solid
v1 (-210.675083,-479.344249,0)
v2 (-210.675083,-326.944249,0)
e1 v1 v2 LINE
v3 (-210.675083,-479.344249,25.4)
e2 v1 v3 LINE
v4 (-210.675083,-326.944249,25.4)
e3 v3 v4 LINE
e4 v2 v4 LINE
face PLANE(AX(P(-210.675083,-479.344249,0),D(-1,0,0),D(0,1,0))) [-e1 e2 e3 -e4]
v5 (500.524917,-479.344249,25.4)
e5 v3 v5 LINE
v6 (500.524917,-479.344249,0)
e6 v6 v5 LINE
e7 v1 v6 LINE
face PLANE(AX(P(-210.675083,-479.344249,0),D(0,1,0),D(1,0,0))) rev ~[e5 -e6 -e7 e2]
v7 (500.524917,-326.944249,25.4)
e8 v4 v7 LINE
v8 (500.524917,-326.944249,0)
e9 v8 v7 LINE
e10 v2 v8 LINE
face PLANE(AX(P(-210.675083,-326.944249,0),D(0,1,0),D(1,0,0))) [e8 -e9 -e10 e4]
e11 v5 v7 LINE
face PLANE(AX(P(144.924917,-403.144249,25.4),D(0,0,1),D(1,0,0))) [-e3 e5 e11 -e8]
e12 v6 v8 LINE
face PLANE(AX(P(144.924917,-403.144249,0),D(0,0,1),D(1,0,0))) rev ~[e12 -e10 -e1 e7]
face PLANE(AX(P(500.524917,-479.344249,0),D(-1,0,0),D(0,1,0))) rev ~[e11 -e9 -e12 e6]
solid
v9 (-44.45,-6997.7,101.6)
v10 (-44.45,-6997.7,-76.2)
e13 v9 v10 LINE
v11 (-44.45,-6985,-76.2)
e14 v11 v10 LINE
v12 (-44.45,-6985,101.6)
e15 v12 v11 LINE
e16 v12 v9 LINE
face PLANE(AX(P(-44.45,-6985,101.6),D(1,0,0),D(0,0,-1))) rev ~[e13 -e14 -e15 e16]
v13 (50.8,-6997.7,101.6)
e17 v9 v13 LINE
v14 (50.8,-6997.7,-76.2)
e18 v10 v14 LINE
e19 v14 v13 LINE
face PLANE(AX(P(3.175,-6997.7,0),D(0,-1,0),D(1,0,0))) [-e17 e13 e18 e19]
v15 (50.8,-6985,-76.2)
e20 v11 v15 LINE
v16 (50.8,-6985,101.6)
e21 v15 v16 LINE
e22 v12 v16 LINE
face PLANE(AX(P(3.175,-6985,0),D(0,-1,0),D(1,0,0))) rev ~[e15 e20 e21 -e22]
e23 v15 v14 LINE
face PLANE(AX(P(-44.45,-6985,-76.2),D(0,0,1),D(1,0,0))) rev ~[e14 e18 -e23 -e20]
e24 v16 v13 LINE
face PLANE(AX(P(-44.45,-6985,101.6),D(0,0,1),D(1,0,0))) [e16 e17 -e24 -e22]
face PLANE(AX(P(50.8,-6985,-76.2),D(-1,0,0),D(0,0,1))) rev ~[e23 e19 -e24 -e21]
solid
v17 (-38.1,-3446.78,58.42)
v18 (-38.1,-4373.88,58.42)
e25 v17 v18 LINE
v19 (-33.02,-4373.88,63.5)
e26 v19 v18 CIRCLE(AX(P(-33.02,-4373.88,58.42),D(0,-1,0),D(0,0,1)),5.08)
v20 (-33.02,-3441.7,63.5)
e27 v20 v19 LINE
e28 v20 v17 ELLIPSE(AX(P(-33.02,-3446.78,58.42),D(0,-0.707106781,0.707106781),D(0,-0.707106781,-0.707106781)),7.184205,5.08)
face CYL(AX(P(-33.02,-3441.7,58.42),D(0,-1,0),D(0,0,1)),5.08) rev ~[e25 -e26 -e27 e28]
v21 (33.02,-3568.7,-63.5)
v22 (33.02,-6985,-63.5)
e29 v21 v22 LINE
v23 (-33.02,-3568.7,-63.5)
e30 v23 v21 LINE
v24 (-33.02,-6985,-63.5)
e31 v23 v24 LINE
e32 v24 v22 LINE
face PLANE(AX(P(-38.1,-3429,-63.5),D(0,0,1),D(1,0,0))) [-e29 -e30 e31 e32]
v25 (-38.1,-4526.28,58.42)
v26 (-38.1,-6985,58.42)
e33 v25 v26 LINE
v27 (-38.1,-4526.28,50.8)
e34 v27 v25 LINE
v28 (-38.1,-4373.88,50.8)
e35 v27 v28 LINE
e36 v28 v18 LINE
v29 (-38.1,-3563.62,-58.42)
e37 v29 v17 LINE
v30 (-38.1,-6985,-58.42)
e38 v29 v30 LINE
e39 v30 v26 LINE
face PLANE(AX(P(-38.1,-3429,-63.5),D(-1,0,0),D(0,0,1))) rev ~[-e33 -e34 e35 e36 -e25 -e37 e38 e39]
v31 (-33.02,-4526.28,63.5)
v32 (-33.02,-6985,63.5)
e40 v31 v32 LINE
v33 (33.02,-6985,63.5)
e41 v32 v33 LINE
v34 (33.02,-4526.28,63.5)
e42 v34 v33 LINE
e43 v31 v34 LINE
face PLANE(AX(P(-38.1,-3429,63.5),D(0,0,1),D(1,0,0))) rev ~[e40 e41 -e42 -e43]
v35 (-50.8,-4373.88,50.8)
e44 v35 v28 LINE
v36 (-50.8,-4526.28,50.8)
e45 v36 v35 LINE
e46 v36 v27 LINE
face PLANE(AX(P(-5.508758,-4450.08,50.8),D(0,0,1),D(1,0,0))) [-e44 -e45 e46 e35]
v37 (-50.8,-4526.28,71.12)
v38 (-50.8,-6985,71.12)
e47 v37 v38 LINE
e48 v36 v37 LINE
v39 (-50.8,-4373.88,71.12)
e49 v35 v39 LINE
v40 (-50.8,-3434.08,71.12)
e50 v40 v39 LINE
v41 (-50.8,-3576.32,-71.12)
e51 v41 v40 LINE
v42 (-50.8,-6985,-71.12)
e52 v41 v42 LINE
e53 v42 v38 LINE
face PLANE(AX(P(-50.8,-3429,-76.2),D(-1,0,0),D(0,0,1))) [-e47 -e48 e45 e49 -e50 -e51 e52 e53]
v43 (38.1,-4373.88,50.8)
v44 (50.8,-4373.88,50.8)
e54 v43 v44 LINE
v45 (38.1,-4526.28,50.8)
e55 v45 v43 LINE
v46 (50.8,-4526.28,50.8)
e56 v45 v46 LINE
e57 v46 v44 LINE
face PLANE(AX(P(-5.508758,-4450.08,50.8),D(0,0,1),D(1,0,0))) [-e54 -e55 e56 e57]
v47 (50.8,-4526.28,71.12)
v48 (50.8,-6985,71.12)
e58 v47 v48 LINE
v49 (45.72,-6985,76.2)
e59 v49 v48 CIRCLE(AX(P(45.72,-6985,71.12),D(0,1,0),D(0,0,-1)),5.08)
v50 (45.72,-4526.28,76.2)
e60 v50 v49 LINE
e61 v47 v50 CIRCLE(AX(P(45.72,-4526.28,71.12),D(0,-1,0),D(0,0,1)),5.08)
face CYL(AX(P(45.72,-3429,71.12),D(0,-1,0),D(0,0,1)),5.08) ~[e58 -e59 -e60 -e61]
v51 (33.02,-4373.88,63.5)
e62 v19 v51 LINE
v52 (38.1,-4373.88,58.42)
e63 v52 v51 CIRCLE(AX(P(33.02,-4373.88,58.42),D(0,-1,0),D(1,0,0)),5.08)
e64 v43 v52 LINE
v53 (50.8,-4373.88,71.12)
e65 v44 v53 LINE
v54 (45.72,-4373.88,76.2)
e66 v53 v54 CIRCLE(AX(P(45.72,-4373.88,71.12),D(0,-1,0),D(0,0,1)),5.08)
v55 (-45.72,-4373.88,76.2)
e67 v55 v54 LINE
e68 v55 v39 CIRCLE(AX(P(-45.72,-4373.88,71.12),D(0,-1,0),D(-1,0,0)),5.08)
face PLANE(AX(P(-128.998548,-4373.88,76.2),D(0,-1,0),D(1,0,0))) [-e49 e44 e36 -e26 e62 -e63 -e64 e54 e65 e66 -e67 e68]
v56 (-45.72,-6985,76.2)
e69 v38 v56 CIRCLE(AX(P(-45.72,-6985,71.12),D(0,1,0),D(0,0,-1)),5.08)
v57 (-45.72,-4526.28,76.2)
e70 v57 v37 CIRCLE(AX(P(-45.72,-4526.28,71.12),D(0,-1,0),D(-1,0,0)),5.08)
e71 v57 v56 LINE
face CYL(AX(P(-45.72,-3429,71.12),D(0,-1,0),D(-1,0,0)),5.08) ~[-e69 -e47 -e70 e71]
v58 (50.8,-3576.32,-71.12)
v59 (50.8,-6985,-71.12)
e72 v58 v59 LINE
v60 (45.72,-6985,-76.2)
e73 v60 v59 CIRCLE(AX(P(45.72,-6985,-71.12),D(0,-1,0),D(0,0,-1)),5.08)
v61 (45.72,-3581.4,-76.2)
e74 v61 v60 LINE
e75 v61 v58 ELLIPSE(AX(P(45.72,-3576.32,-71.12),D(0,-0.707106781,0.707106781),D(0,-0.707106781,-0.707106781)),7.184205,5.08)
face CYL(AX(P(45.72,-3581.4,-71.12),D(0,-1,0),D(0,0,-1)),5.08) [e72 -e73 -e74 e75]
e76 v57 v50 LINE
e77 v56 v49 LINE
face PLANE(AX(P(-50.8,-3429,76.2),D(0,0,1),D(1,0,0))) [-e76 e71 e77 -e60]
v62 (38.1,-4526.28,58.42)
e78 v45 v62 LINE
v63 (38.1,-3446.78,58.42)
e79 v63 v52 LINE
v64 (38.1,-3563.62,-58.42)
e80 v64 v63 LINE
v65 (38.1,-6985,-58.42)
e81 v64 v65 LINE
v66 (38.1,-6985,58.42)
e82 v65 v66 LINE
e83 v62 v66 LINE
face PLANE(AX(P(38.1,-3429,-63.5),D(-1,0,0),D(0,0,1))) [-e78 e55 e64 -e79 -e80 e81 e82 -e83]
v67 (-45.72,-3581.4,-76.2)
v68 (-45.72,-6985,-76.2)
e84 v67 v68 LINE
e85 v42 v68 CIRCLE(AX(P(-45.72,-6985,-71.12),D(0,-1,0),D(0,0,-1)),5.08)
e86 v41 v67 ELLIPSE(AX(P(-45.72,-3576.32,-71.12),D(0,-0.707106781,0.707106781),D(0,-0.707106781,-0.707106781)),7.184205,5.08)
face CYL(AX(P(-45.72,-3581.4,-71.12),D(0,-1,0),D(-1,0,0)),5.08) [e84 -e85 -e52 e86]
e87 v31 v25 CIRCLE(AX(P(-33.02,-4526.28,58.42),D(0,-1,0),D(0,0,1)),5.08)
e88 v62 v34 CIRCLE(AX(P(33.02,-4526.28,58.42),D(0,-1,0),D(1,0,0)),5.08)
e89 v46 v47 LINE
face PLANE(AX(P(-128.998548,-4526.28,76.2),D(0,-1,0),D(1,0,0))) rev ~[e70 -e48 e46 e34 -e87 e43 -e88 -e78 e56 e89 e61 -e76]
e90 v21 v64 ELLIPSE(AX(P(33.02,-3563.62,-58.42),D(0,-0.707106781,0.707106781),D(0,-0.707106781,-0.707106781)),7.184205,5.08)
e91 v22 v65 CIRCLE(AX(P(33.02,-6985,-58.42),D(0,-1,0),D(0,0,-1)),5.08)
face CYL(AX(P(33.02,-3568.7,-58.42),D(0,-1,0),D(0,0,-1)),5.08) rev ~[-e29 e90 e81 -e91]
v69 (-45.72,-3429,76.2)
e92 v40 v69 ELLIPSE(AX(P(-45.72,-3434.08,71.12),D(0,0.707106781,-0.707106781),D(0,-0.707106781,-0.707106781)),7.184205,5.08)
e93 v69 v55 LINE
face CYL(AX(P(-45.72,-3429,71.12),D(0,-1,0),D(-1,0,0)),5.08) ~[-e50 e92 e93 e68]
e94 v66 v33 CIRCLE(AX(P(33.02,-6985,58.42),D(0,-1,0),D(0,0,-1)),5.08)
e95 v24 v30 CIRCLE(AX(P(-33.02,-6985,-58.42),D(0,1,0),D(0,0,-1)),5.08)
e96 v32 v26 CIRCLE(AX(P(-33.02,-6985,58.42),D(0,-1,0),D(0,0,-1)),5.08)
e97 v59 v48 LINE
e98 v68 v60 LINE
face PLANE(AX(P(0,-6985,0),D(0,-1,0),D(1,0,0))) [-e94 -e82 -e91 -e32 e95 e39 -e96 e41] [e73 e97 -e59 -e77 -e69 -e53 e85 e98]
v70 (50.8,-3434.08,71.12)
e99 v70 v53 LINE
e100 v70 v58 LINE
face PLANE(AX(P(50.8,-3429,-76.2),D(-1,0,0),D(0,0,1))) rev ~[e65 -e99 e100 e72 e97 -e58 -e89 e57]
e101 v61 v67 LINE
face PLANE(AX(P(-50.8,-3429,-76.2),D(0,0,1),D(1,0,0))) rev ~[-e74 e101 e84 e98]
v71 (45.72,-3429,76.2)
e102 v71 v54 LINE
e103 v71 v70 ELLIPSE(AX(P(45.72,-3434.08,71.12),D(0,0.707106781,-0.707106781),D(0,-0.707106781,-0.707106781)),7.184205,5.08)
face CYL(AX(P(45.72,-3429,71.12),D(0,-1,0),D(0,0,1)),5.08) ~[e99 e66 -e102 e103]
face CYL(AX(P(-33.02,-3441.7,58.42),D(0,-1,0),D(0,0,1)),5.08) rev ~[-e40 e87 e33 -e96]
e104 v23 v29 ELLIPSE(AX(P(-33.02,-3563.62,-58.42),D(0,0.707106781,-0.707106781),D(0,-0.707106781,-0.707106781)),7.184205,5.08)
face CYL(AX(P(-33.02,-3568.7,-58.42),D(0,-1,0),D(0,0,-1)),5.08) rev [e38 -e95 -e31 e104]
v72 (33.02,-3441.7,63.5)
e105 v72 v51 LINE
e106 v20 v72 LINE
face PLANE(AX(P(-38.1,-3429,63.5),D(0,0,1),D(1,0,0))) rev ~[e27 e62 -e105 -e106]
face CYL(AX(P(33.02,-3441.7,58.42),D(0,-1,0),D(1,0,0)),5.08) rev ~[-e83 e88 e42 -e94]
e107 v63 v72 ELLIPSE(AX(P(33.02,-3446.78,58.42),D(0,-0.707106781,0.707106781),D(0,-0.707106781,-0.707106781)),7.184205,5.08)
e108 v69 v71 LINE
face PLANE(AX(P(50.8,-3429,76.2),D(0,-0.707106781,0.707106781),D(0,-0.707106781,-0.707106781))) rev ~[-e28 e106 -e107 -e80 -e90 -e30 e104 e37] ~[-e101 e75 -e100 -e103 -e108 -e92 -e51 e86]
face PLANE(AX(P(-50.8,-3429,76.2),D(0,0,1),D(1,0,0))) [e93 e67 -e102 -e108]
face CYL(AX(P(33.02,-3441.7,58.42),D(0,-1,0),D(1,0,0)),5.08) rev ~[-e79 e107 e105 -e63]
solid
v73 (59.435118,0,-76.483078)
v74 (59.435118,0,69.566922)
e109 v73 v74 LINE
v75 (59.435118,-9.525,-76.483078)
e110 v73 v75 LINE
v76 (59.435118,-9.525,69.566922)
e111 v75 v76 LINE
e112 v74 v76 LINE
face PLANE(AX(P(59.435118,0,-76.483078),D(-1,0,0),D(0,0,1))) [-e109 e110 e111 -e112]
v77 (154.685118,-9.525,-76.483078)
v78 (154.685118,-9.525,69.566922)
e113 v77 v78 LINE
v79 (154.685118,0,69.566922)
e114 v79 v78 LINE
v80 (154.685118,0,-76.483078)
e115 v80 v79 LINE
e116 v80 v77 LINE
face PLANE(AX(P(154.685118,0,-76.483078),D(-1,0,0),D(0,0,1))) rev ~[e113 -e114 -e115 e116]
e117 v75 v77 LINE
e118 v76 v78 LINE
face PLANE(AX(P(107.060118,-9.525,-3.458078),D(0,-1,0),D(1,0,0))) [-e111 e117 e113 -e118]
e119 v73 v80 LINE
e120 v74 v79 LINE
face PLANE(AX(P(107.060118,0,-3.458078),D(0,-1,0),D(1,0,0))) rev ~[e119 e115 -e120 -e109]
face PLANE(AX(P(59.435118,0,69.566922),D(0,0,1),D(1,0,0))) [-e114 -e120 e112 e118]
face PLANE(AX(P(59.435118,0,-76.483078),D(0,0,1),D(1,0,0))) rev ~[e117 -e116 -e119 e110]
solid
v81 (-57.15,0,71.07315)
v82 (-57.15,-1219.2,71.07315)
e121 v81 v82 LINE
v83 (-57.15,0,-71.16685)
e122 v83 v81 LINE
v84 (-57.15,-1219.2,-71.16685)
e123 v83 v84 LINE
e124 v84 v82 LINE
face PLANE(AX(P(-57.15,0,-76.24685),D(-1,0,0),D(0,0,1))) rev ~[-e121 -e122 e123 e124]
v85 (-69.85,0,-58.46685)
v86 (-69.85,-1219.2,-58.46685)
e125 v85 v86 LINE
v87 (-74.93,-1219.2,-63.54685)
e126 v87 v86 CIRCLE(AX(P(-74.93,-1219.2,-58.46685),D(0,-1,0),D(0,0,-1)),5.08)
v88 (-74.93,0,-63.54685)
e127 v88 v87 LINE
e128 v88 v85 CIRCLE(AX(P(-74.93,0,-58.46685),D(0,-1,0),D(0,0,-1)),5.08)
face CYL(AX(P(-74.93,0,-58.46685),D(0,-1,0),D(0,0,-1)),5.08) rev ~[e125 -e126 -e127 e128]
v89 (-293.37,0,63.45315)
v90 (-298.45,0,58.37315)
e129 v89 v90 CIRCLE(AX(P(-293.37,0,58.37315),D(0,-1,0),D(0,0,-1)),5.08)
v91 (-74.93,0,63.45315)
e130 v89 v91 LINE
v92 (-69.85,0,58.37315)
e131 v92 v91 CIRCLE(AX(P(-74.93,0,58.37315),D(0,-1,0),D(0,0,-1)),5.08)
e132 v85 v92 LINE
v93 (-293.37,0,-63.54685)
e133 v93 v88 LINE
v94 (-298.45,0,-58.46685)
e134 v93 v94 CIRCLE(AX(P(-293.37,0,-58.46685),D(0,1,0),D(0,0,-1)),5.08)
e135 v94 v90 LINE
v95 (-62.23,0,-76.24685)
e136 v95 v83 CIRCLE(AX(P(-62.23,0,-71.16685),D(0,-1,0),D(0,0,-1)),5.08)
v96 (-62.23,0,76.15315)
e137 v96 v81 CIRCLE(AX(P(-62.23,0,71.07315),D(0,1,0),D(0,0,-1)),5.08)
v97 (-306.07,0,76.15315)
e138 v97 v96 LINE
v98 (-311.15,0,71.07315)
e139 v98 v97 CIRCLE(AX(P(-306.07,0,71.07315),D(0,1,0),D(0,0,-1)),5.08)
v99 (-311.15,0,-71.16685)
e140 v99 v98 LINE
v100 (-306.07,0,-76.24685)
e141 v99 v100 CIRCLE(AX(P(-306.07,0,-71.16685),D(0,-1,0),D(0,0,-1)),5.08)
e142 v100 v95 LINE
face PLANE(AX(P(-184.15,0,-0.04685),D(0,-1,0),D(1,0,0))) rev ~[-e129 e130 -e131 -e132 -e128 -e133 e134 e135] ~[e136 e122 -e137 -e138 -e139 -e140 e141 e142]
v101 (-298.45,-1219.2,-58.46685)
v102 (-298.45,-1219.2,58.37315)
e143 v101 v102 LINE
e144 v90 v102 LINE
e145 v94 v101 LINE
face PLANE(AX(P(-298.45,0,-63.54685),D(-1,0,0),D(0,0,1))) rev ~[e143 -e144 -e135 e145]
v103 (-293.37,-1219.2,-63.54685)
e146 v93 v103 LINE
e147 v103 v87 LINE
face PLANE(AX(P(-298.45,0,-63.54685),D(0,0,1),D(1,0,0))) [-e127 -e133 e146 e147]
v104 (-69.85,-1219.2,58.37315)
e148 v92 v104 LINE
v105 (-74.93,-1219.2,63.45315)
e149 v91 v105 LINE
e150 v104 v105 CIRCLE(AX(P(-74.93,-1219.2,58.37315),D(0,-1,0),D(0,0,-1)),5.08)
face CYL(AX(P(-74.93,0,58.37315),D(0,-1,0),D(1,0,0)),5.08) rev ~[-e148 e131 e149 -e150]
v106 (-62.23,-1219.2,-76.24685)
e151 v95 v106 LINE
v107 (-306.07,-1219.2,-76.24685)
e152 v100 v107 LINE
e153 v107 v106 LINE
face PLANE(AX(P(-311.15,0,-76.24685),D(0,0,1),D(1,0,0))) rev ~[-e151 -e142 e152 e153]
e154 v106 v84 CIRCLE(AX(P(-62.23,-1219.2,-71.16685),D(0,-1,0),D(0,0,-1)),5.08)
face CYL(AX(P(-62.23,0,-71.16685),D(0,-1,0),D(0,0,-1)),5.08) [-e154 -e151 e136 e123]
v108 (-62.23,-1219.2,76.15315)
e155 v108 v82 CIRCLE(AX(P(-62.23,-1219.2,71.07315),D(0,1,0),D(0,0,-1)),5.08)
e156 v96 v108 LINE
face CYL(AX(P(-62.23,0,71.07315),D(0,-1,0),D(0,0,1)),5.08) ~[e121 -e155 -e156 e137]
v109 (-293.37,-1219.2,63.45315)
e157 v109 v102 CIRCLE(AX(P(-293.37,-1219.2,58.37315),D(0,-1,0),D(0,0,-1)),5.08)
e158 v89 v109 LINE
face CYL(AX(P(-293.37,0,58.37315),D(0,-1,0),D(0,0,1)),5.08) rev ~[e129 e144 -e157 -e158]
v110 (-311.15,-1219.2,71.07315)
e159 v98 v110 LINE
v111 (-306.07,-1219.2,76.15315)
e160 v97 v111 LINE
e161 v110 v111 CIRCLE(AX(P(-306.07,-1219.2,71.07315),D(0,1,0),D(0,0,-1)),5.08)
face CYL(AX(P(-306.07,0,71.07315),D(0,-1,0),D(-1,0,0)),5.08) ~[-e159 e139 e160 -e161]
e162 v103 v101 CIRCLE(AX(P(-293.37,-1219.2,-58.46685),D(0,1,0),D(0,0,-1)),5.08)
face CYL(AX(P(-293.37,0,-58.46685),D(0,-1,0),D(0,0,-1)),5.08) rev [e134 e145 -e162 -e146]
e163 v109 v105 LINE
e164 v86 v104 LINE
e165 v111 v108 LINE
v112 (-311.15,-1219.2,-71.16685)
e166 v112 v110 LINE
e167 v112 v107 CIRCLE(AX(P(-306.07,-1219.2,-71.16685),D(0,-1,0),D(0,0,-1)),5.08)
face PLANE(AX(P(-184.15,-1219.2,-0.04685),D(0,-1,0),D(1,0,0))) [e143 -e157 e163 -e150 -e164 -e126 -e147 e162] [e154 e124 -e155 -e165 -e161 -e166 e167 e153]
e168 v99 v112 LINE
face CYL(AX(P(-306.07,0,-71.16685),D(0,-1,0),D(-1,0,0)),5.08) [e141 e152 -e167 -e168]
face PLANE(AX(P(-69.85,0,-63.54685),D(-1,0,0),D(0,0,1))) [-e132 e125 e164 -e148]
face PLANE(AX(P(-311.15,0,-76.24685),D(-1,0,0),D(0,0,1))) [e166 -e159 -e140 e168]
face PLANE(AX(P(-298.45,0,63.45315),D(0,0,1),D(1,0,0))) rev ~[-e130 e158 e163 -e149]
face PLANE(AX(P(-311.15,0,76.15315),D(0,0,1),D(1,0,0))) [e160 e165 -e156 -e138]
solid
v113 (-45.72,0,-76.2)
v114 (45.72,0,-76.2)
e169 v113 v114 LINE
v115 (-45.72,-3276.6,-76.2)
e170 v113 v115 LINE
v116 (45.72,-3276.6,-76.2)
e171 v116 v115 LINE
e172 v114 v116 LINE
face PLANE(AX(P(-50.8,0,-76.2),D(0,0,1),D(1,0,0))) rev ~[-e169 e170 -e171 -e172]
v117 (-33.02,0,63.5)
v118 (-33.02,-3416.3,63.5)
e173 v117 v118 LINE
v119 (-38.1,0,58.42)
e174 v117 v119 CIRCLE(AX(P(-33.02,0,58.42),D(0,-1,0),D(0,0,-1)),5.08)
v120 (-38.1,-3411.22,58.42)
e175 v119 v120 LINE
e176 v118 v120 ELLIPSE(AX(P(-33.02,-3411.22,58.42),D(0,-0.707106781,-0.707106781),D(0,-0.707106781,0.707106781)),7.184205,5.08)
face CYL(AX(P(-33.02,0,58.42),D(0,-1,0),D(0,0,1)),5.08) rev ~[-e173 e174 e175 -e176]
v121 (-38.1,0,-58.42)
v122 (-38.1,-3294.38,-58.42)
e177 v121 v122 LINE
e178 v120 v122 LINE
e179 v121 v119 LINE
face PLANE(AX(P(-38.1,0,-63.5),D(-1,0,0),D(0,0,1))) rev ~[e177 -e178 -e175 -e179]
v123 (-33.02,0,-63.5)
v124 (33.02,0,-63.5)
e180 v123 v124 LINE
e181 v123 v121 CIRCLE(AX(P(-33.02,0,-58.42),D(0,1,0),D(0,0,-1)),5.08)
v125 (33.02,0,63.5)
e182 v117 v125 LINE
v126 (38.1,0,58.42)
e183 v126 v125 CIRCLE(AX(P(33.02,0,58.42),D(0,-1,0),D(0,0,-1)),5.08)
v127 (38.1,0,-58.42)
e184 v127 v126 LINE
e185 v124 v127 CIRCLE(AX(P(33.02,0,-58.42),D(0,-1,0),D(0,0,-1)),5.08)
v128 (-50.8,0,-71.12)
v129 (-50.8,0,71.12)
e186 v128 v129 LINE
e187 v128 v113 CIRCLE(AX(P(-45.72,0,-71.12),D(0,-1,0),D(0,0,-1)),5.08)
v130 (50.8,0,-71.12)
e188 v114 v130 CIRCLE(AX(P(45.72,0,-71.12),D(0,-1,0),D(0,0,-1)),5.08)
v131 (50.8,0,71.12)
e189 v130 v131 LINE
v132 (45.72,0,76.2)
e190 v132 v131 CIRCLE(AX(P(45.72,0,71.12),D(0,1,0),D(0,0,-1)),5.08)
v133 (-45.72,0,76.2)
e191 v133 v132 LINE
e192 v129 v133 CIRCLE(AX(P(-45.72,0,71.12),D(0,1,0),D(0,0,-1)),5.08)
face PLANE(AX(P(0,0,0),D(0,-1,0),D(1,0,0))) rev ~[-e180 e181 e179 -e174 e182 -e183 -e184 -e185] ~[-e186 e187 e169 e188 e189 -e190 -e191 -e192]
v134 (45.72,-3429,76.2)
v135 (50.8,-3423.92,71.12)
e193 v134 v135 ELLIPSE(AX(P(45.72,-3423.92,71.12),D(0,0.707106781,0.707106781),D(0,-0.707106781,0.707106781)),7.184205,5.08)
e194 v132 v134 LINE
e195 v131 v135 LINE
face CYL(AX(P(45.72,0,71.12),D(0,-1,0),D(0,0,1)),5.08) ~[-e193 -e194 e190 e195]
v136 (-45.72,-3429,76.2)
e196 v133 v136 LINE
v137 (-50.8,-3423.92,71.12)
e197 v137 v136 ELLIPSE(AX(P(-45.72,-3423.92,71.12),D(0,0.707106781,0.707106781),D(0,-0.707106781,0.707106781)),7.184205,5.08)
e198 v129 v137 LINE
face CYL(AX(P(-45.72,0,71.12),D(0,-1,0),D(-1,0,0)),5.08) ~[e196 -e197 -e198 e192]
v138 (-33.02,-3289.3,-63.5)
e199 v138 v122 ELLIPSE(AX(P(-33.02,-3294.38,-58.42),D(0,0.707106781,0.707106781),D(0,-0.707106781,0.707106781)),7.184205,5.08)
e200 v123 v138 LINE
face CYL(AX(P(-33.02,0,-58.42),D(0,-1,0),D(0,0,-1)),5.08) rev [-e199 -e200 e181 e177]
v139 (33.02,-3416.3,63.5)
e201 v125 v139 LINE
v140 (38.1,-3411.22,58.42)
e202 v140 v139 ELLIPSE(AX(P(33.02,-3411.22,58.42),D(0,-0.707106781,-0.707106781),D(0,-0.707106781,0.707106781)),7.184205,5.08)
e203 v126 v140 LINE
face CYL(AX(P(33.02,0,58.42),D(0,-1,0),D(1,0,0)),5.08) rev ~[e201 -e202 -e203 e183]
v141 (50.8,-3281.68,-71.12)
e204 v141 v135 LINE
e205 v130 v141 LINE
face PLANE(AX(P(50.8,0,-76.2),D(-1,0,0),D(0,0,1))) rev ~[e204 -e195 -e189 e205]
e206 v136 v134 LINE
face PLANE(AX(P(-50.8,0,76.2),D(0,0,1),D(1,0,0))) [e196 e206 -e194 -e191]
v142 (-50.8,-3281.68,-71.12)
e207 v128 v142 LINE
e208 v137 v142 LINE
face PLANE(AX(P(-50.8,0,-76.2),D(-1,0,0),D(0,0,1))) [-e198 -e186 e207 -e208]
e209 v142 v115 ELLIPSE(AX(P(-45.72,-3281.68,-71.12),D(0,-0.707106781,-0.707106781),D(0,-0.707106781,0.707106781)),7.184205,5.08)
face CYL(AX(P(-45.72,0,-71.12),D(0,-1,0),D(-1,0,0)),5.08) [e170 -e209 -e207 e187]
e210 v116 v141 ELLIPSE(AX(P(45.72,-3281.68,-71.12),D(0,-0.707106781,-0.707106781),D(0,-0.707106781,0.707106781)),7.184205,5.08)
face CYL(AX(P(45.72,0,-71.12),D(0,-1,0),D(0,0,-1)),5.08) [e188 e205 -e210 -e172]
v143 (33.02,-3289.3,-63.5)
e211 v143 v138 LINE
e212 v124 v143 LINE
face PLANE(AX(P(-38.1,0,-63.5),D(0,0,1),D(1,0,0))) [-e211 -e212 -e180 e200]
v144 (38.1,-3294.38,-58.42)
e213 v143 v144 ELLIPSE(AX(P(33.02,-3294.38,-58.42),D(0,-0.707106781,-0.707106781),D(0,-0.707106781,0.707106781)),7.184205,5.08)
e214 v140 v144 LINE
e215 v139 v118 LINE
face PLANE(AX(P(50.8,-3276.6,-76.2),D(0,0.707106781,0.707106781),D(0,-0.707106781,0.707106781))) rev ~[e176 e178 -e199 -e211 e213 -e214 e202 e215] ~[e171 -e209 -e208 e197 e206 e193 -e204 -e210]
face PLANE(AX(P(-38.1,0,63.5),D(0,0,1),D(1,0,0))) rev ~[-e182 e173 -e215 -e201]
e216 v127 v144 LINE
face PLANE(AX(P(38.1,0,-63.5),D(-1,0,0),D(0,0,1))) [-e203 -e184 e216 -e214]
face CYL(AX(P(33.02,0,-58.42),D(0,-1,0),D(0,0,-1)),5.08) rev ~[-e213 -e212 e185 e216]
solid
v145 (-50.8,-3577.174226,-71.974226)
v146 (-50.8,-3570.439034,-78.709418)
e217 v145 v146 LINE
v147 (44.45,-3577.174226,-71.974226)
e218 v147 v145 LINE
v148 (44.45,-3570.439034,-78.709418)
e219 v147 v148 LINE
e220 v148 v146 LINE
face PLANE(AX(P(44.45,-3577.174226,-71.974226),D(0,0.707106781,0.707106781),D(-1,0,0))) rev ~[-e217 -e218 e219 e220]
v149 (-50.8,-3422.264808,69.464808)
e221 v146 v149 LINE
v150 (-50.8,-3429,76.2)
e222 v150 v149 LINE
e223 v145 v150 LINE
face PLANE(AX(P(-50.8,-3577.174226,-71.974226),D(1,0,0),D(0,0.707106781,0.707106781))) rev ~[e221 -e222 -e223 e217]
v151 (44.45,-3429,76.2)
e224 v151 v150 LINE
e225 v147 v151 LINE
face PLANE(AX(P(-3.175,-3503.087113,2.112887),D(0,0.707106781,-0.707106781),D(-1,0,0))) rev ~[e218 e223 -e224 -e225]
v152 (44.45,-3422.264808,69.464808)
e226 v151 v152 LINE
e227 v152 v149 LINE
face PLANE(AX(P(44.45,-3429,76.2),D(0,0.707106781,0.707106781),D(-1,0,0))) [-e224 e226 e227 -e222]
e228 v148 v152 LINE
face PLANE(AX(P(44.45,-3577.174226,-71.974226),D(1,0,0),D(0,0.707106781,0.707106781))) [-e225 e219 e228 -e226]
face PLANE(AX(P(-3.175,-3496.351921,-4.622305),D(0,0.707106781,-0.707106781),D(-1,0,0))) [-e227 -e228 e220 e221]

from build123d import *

# Parameters (mm, degrees)
F1_W      = 254
F1_H      = 152.4
F1_W_2    = 228.6
F1_H_2    = 127
F3_DEPTH  = 1219.2
F0_W      = 101.6
F0_H      = 152.4
F0_W_2    = 76.2
F0_H_2    = 127
F4_DEPTH  = 3429
F2_W      = 95.25
F2_H      = 146.05
F5_DEPTH  = 9.525
F6_DEPTH  = 3556
F9_DEPTH  = 361.951
F10_DEPTH = 361.951
F11_W     = 95.25
F11_H     = 209.55
F11_W_2   = 76.2
F11_H_2   = 179.6051224214
F12_DEPTH = 9.525
F13_W     = 95.25
F13_H     = 152.4
F13_W_2   = 76.2
F13_H_2   = 127
F13_H_3   = 25.4
F14_DEPTH = 12.7
F15_R     = 5.08
F15_2_R   = 5.08
F15_3_R   = 5.08
F16_W     = 711.2
F16_H     = 152.4
F17_DEPTH = 25.4
F18_W     = 246.9795793295
F18_H     = 152.4
F19_DEPTH = 25.4


with BuildPart() as f3:
    # F1 (on Front) → F3 (new body)
    with BuildSketch(Plane.XZ):
        with Locations((-184.15, -0.0468501925)):
            Rectangle(F1_W, F1_H)
        with Locations((-184.15, -0.0468501925)):
            Rectangle(F1_W_2, F1_H_2, mode=Mode.SUBTRACT)
    extrude(amount=F3_DEPTH)

    # F15#3
    f15_3_edges = [f3.edges().sort_by_distance(p)[0] for p in [
        (-69.85, -609.6, 63.45315),
        (-69.85, -609.6, -63.54685),
        (-298.45, -609.6, -63.54685),
        (-298.45, -609.6, 63.45315),
        (-57.15, -609.6, -76.24685),
        (-311.15, -609.6, -76.24685),
        (-311.15, -609.6, 76.15315),
        (-57.15, -609.6, 76.15315),
    ]]
    fillet(f15_3_edges, radius=F15_3_R)


with BuildPart() as f4:
    # F0 (on Front) → F4 (new body)
    with BuildSketch(Plane.XZ):
        Rectangle(F0_W, F0_H)
        Rectangle(F0_W_2, F0_H_2, mode=Mode.SUBTRACT)
    extrude(amount=F4_DEPTH)


with BuildPart() as f5:
    # F2 (on Front) → F5 (new body)
    with BuildSketch(Plane.XZ):
        with Locations((107.0601179898, -3.458078301)):
            Rectangle(F2_W, F2_H)
    extrude(amount=F5_DEPTH)


with BuildPart() as f6:
    # F6 (new): a face of the model
    f6_faces = [f4.part.faces().sort_by_distance(p)[0] for p in [
        (0, -3429, -74.3683799521),
    ]]
    extrude(f6_faces, amount=F6_DEPTH)

    # F7 (on face) → F10 (cut, through all)
    with BuildSketch(Plane.YZ.offset(50.8)):
        Polygon((-3429, -76.2), (-3429, 76.2), (-3581.4, -76.2), align=None)
    extrude(amount=-F10_DEPTH, mode=Mode.SUBTRACT)

    # F15#2
    f15_2_edges = [f6.edges().sort_by_distance(p)[0] for p in [
        (50.8, -5283.2, -76.2),
        (-50.8, -5283.2, -76.2),
        (50.8, -5207, 76.2),
        (-50.8, -5207, 76.2),
        (-38.1, -5213.35, 63.5),
        (38.1, -5213.35, 63.5),
        (38.1, -5276.85, -63.5),
        (-38.1, -5276.85, -63.5),
    ]]
    fillet(f15_2_edges, radius=F15_2_R)

    # F18 (on face) → F19 (cut)
    with BuildSketch(Plane.XY.offset(76.2)):
        with Locations((-5.5087581277, -4450.08)):
            Rectangle(F18_W, F18_H)
    extrude(amount=-F19_DEPTH, mode=Mode.SUBTRACT)


with BuildPart() as f4_1:
    add(f4.part)

    # F8 (on face) → F9 (cut, through all)
    with BuildSketch(Plane.YZ.offset(50.8)):
        Polygon((-3276.6, -76.2), (-3429, 76.2), (-3429, -76.2), align=None)
    extrude(amount=-F9_DEPTH, mode=Mode.SUBTRACT)

    # F15
    f15_edges = [f4_1.edges().sort_by_distance(p)[0] for p in [
        (-50.8, -1714.5, 76.2),
        (-50.8, -1638.3, -76.2),
        (50.8, -1638.3, -76.2),
        (50.8, -1714.5, 76.2),
        (-38.1, -1708.15, 63.5),
        (38.1, -1708.15, 63.5),
        (38.1, -1644.65, -63.5),
        (-38.1, -1644.65, -63.5),
    ]]
    fillet(f15_edges, radius=F15_R)


with BuildPart() as f12:
    # F11 (on face) → F12 (new body)
    with BuildSketch(Plane(origin=(0, -1752.6, 1752.6), x_dir=(-1, 0, 0), z_dir=(0, 0.7071067812, -0.7071067812))):
        with Locations((3.175, -2475.5626159623)):
            Rectangle(F11_W, F11_H)
        with Locations((0, -2478.5506894151)):
            Rectangle(F11_W_2, F11_H_2, mode=Mode.SUBTRACT)
        with Locations((0, -2478.5506894151)):
            Rectangle(F11_W_2, F11_H_2)
    extrude(amount=F12_DEPTH)


with BuildPart() as f14:
    # F13 (on face) → F14 (new body)
    with BuildSketch(Plane.XZ.offset(6985)):
        with Locations((3.175, 0)):
            Rectangle(F13_W, F13_H)
        Rectangle(F13_W_2, F13_H_2, mode=Mode.SUBTRACT)
        Rectangle(F13_W_2, F13_H_2)
        with Locations((3.175, 88.9)):
            Rectangle(F13_W, F13_H_3)
    extrude(amount=F14_DEPTH)


with BuildPart() as f17:
    # F16 (on Top) → F17 (new body)
    with BuildSketch(Plane.XY):
        with Locations((144.9249171257, -403.1442487717)):
            Rectangle(F16_W, F16_H)
    extrude(amount=F17_DEPTH)


solid = Compound([f3.part, f5.part, f6.part, f4_1.part, f12.part, f14.part, f17.part])
